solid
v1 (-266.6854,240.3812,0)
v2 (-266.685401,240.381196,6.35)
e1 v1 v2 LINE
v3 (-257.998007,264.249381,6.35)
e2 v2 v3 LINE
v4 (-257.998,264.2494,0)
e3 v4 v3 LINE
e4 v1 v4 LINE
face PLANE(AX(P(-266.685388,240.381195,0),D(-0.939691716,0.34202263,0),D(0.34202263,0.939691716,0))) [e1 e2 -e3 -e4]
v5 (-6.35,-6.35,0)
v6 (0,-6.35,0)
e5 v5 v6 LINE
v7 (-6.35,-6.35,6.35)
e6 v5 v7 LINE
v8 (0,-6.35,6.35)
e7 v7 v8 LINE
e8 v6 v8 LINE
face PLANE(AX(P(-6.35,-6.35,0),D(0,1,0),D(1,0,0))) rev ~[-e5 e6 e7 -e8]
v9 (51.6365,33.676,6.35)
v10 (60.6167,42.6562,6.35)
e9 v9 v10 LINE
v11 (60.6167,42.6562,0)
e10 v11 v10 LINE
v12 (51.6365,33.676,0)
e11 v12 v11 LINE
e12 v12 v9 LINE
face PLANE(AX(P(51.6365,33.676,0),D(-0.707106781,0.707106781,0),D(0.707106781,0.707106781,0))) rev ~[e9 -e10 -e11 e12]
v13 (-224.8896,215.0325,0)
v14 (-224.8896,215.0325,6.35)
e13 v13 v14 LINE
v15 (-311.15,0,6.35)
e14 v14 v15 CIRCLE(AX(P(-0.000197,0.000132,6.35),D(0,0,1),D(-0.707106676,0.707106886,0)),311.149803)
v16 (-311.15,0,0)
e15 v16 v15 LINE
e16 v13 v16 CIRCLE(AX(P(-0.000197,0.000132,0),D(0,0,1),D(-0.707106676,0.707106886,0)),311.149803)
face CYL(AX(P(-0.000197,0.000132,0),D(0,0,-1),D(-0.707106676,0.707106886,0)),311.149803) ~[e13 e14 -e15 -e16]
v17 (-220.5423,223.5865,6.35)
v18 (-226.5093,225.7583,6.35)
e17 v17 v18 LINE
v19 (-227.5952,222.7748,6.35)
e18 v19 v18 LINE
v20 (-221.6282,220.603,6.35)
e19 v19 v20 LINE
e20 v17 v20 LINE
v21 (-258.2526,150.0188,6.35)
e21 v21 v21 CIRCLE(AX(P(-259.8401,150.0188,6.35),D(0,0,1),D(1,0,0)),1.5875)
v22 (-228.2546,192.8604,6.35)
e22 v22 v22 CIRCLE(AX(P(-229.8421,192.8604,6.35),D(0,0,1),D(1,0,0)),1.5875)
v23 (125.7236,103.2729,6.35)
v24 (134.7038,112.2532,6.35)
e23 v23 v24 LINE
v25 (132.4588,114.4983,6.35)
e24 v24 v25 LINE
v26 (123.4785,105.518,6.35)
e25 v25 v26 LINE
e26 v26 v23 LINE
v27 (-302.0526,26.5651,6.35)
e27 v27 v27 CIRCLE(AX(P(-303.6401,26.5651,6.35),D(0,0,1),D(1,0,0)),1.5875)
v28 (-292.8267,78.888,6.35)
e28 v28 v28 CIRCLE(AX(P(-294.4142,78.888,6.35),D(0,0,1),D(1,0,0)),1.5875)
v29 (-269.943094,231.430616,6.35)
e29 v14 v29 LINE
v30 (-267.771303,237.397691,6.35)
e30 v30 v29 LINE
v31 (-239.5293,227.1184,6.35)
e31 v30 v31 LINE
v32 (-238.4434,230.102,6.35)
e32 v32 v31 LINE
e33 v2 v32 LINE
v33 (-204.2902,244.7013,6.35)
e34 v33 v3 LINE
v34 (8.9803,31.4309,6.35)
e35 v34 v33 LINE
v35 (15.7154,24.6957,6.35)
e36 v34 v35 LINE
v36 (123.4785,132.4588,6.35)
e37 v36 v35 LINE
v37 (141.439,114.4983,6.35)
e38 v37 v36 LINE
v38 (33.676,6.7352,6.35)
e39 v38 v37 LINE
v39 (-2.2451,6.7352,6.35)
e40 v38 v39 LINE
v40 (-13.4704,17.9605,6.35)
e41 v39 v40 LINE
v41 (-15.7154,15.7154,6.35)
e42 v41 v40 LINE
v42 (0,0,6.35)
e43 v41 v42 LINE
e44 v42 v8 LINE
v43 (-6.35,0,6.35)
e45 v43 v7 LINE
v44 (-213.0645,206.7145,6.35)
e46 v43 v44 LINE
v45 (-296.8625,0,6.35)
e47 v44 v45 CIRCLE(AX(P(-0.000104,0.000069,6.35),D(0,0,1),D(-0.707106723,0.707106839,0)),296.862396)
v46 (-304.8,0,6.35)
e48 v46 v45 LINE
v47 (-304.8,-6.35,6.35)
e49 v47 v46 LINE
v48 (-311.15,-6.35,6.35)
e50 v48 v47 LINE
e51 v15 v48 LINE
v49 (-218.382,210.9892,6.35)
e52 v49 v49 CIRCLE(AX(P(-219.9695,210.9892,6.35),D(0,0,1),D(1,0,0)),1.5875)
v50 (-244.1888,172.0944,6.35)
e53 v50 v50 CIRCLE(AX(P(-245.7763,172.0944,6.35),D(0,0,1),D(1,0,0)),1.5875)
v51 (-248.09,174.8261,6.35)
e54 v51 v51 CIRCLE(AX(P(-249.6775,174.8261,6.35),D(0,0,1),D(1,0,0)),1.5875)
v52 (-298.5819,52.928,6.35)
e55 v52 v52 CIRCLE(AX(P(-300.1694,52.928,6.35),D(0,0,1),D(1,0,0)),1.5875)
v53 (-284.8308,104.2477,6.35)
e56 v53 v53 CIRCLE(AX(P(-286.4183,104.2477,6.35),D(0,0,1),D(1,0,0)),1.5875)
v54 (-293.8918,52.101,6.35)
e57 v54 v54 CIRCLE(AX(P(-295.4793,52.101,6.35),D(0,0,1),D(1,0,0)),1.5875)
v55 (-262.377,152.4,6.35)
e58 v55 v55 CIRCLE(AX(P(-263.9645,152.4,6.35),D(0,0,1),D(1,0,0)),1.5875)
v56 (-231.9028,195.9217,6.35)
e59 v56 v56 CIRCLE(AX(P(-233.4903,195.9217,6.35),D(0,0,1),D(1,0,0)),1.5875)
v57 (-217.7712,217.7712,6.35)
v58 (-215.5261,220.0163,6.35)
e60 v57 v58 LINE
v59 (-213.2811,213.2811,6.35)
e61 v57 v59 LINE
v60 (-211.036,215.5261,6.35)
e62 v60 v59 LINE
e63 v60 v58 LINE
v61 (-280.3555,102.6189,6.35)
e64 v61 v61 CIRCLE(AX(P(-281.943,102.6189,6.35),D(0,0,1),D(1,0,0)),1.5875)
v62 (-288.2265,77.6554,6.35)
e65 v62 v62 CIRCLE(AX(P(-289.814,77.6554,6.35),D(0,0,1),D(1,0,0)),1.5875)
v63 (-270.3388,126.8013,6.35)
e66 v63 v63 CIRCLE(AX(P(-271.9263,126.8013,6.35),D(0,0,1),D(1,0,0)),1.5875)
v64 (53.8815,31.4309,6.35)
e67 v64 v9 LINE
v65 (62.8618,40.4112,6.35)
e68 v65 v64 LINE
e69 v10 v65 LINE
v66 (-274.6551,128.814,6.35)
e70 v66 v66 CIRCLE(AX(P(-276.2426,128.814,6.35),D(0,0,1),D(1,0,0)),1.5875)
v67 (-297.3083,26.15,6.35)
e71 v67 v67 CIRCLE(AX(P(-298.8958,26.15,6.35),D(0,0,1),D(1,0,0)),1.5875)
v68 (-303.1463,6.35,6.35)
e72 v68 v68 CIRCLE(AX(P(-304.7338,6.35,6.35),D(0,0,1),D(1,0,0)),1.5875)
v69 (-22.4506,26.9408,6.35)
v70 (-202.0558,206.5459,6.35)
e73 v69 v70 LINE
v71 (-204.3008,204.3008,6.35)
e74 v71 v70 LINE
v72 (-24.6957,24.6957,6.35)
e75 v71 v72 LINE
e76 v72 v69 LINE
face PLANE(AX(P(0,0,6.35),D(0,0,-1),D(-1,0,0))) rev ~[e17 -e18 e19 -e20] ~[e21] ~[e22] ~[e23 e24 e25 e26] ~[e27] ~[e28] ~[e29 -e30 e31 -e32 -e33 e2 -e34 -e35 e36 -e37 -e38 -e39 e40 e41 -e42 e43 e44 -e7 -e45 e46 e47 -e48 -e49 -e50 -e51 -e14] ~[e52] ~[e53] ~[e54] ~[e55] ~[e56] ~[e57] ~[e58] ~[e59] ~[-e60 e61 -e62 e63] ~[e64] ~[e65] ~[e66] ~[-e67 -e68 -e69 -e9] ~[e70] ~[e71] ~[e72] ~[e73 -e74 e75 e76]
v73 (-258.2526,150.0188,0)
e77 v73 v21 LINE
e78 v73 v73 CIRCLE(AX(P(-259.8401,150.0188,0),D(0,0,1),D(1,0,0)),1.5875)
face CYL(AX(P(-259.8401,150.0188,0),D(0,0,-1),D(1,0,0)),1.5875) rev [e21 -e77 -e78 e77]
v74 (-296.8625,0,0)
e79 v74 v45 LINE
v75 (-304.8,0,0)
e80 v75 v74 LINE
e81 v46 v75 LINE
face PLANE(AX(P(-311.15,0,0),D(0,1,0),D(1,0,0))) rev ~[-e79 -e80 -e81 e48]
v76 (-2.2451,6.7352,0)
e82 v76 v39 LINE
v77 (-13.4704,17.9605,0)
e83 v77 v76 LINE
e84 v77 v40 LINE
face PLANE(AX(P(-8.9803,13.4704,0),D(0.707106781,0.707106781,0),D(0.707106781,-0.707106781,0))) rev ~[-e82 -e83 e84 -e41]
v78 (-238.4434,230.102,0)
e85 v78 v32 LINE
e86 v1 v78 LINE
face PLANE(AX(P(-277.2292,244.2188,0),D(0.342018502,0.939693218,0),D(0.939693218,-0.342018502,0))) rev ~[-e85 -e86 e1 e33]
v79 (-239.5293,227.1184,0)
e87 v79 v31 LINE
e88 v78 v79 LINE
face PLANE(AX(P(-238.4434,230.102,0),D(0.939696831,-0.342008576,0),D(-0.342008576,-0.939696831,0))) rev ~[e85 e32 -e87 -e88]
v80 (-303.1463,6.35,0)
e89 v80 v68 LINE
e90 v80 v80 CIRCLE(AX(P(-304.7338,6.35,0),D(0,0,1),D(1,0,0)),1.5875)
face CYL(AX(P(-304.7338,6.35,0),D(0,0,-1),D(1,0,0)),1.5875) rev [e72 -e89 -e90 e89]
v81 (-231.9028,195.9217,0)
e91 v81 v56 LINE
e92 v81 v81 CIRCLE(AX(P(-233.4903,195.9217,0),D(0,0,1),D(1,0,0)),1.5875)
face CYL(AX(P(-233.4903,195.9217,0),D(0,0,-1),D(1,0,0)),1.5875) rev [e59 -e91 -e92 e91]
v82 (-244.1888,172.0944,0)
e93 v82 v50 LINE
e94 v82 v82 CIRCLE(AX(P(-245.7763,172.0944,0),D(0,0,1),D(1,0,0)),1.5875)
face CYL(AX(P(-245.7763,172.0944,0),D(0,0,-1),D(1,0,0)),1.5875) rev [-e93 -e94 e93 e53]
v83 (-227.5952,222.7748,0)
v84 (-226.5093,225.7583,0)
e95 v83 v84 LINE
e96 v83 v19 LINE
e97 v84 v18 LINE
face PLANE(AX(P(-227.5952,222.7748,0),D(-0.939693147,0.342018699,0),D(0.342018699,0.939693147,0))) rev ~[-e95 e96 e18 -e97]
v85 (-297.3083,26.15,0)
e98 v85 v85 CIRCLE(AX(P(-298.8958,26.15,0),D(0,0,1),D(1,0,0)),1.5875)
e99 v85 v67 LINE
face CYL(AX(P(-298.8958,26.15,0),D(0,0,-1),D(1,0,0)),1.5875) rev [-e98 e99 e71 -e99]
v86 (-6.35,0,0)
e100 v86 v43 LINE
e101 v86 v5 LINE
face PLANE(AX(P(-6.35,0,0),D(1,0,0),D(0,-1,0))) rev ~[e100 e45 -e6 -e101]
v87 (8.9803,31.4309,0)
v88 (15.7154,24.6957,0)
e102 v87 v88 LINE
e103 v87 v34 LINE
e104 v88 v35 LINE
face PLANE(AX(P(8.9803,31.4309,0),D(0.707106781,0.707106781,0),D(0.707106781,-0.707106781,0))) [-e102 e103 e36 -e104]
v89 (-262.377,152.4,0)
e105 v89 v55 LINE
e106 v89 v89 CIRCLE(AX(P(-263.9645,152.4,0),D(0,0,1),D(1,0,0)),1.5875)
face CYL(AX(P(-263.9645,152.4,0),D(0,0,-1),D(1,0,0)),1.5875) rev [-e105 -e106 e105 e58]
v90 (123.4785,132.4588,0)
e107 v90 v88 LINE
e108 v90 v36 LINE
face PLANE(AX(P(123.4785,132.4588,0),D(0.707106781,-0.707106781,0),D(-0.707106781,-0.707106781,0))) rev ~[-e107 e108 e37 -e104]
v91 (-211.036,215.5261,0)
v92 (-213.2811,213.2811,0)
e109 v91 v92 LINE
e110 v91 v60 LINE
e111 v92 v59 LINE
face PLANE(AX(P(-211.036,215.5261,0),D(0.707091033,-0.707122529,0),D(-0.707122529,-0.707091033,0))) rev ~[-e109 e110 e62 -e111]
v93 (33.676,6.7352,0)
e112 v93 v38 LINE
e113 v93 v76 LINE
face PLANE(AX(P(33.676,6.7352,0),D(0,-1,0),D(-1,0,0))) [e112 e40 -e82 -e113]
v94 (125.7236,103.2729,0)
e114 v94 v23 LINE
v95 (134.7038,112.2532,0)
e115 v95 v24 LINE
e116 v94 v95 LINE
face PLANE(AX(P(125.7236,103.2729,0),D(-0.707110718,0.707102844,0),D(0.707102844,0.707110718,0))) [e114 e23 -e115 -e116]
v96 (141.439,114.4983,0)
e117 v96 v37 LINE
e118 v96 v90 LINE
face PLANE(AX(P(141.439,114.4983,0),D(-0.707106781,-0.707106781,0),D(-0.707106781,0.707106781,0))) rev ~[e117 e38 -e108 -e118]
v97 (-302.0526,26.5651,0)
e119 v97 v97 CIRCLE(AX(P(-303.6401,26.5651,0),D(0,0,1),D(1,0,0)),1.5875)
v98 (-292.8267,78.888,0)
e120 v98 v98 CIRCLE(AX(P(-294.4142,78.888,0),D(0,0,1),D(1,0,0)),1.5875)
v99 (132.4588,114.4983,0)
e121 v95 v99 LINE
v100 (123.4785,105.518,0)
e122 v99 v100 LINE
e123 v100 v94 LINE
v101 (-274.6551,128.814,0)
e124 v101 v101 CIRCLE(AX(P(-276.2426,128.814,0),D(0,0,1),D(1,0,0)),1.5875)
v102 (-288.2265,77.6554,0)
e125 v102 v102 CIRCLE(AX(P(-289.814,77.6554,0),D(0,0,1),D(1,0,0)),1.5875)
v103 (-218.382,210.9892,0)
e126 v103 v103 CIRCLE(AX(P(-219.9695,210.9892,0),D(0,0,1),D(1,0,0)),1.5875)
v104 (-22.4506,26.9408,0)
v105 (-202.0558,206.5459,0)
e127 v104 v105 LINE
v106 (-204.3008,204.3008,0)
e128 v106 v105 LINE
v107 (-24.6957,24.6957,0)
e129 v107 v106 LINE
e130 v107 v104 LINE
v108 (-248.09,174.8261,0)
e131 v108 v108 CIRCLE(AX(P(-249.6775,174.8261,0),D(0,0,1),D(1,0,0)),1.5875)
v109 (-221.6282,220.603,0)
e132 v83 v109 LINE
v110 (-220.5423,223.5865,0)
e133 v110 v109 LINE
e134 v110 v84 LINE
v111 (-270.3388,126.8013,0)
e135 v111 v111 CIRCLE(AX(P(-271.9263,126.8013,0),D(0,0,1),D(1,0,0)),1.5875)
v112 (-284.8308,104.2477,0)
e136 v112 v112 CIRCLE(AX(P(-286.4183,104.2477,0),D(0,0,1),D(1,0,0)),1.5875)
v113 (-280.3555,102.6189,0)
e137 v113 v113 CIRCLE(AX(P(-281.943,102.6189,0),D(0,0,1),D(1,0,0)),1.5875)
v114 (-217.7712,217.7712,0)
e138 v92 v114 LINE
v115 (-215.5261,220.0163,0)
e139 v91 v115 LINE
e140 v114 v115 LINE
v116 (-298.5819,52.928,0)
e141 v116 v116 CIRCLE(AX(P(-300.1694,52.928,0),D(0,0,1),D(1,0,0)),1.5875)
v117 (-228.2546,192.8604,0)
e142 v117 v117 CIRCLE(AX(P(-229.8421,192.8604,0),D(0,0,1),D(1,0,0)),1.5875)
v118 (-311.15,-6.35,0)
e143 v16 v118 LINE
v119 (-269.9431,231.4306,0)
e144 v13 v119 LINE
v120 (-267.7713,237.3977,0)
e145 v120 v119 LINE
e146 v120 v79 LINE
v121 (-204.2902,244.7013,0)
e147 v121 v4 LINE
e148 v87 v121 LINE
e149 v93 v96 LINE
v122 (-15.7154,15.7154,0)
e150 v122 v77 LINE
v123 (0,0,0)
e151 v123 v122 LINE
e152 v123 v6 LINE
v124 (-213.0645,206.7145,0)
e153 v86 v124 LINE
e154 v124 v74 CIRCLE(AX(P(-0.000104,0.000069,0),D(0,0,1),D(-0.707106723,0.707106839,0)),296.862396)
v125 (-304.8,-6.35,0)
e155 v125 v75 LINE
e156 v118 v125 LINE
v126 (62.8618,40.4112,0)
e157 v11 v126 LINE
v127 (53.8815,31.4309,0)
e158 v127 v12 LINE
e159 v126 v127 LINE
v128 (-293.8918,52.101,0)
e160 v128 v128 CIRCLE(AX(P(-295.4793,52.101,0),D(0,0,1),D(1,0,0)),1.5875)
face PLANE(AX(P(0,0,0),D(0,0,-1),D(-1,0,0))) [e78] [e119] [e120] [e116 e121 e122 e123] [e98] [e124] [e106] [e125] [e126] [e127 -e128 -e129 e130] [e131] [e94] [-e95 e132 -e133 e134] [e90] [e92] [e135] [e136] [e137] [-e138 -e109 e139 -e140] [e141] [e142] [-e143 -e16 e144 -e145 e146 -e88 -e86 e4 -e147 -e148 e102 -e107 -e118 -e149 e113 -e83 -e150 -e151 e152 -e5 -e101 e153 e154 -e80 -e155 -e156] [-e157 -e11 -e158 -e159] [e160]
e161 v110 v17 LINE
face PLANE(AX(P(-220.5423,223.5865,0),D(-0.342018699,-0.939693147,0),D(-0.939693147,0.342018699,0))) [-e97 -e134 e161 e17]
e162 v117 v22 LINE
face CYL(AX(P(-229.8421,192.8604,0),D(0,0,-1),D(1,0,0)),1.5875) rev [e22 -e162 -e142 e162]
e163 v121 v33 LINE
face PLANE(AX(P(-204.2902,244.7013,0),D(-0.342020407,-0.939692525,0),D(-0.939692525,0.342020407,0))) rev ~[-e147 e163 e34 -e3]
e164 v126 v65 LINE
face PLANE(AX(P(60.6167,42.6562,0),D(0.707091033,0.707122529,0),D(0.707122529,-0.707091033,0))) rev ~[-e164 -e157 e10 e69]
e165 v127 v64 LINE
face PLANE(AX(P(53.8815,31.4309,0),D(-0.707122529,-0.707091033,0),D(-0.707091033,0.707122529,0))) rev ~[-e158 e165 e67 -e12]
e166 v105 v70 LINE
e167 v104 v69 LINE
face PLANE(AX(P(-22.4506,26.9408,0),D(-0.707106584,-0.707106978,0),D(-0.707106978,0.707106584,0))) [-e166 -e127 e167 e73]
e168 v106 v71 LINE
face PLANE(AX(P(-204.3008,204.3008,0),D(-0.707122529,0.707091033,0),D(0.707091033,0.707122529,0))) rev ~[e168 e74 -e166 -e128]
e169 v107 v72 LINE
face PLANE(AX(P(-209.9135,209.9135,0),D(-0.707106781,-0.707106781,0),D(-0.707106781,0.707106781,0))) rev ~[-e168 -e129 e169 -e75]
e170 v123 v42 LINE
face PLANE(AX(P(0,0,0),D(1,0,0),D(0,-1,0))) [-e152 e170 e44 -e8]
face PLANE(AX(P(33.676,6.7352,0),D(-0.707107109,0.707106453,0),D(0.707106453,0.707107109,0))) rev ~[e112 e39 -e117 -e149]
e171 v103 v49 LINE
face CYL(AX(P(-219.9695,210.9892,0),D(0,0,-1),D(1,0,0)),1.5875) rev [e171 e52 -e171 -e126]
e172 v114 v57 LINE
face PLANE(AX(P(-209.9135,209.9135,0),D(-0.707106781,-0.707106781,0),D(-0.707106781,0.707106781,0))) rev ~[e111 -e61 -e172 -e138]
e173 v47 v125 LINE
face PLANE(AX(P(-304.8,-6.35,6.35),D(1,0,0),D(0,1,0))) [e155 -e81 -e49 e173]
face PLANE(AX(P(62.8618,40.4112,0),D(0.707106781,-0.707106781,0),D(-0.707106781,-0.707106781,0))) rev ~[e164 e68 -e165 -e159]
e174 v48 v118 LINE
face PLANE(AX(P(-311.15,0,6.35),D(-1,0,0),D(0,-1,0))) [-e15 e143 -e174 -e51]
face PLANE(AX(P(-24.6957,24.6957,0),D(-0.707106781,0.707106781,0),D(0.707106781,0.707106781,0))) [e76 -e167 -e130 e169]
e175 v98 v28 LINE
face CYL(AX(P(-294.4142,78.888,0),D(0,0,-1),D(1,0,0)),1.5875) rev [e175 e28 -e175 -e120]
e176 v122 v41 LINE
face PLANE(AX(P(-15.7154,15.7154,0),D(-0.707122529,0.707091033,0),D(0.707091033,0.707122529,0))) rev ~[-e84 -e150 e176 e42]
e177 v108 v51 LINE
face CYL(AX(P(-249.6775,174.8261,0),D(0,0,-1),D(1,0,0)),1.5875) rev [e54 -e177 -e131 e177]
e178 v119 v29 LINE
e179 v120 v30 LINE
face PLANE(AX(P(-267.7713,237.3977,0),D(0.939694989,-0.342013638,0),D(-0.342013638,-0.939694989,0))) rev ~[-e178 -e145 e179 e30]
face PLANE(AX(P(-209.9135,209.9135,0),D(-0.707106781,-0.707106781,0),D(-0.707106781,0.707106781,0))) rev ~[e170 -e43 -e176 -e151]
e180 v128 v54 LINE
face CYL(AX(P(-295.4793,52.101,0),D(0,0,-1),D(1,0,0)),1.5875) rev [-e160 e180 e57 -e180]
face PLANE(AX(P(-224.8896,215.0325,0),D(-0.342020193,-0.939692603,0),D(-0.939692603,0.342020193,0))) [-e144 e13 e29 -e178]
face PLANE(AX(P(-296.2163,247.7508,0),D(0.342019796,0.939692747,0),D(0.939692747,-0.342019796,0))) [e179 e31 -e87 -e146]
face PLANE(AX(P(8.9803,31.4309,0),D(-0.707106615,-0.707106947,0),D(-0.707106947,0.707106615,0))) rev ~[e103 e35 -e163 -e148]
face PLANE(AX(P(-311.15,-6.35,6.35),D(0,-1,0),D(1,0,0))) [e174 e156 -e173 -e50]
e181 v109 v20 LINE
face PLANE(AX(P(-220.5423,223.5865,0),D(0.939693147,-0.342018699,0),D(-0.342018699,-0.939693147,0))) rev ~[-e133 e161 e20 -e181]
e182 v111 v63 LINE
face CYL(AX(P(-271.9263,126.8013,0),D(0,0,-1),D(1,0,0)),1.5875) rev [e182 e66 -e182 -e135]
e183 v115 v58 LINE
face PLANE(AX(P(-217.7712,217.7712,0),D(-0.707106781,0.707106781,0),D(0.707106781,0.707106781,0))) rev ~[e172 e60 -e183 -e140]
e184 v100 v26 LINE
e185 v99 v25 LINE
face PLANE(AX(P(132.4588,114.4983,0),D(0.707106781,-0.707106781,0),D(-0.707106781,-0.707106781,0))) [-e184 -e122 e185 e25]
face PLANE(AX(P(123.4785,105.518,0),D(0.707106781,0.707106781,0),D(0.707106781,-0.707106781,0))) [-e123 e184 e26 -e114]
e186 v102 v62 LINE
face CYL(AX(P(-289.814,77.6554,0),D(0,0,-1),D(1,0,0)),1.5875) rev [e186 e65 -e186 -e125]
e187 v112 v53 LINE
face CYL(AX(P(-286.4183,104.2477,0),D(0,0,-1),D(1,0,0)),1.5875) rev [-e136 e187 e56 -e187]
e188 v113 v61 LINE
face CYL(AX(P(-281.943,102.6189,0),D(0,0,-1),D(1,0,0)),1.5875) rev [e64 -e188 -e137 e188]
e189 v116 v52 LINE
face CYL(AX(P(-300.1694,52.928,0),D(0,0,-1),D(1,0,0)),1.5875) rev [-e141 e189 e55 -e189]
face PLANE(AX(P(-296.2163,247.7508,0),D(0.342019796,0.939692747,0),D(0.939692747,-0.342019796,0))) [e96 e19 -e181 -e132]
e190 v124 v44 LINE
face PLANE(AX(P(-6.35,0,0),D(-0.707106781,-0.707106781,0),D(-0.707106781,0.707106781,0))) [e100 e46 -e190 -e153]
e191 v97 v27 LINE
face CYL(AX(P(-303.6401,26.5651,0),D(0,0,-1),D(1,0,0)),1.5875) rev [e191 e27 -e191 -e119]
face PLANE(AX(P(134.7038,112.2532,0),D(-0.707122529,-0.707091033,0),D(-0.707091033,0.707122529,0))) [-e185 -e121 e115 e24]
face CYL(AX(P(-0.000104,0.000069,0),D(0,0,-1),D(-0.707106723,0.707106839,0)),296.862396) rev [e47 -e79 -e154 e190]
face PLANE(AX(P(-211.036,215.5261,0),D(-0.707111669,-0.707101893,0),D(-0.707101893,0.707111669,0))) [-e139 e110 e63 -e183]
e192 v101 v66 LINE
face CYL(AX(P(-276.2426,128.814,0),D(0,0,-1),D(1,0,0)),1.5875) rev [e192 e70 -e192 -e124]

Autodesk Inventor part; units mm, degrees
ref_plane "YZ Plane" through (0, 0, 0) normal (1, 0, 0) x (0, 1, 0)
ref_plane "XZ Plane" through (0, 0, 0) normal (0, 1, 0) x (-1, 0, 0)
ref_plane "XY Plane" through (0, 0, 0) normal (0, 0, 1) x (1, 0, 0)
sketch "Sketch1" plane through (0, 0, 0) normal (0, 0, 1) x (1, 0, 0)
  circle A0 centre (-295.4793, 52.101) radius 1.5875
  circle A1 centre (-281.943, 102.6189) radius 1.5875
  circle A2 centre (-259.8401, 150.0188) radius 1.5875
  circle A3 centre (-229.8421, 192.8604) radius 1.5875
  circle A4 centre (-219.9695, 210.9892) radius 1.5875
  circle A5 centre (-300.1694, 52.928) radius 1.5875
  circle A6 centre (-286.4183, 104.2477) radius 1.5875
  circle A7 centre (-263.9645, 152.4) radius 1.5875
  circle A8 centre (-233.4903, 195.9217) radius 1.5875
  circle A9 centre (-249.6775, 174.8261) radius 1.5875
  circle A10 centre (-276.2426, 128.814) radius 1.5875
  circle A11 centre (-294.4142, 78.888) radius 1.5875
  circle A12 centre (-303.6401, 26.5651) radius 1.5875
  circle A13 centre (-304.7338, 6.35) radius 1.5875
  circle A14 centre (-245.7763, 172.0944) radius 1.5875
  circle A15 centre (-271.9263, 126.8013) radius 1.5875
  circle A16 centre (-289.814, 77.6554) radius 1.5875
  circle A17 centre (-298.8958, 26.15) radius 1.5875
  arc A18 (-220.0163, 220.0163) -> (-311.15, 0) centre (0, 0) ccw
  line L0 (-311.15, 0) -> (0, 0)
  line L1 (0, 0) -> (-220.0163, 220.0163)
  arc A19 (-209.9135, 209.9135) -> (-296.8625, 0) centre (0, 0) ccw
  arc A20 (-220.0163, 220.0163) -> (-311.15, 0) centre (0, 0) ccw
  dimension "d0" = 593.725
extrude "Extrusion1" add sketch "Sketch1" along normal blind 6.35 contours L1 A19 L0 A18
sketch "Sketch2" plane through (0, 0, 6.35) normal (0, 0, 1) x (1, 0, 0)
  arc A0 (-220.0163, 220.0163) -> (-311.15, 0) centre (0, 0) ccw projected
  line L0 (-311.15, 0) -> (-296.8625, 0) projected
  line L1 (-311.15, 0) -> (-311.15, -6.35)
  line L2 (-311.15, -6.35) -> (-304.8, -6.35)
  line L3 (-304.8, -6.35) -> (-304.8, 0)
  dimension "d3" = 6.35
  dimension "d4" = 6.35
extrude "Extrusion2" add sketch "Sketch2" against normal blind 6.35
sketch "Sketch3" plane through (0, 0, 0) normal (0, 0, -1) x (-1, 0, 0)
  arc A0 (311.15, 0) -> (220.0163, 220.0163) centre (0, 0) ccw projected
  line L0 (311.15, -6.35) -> (311.15, 0) projected
  line L1 (220.0163, 220.0163) -> (177.0122, 220.0163)
  circle A1 centre (281.943, 102.6189) radius 1.5875 projected
  circle A2 centre (263.9645, 152.4) radius 1.5875 projected
  circle A3 centre (276.2426, 128.814) radius 1.5875 projected
  circle A4 centre (245.7763, 172.0944) radius 1.5875 projected
  circle A5 centre (249.6775, 174.8261) radius 1.5875 projected
  circle A6 centre (286.4183, 104.2477) radius 1.5875 projected
  circle A7 centre (295.4793, 52.101) radius 1.5875 projected
  circle A8 centre (259.8401, 150.0188) radius 1.5875 projected
  circle A9 centre (233.4903, 195.9217) radius 1.5875 projected
  circle A10 centre (294.4142, 78.888) radius 1.5875 projected
  circle A11 centre (289.814, 77.6554) radius 1.5875 projected
  circle A12 centre (271.9263, 126.8013) radius 1.5875 projected
  circle A13 centre (300.1694, 52.928) radius 1.5875 projected
  circle A14 centre (219.9695, 210.9892) radius 1.5875 projected
  circle A15 centre (229.8421, 192.8604) radius 1.5875 projected
  arc A16 (311.15, 0) -> (224.8896, 215.0325) centre (0, 0) ccw projected
  line L2 (224.8896, 215.0325) -> (296.2163, 240.9933) projected
  line L3 (296.2163, 240.9933) -> (296.2163, 247.7508) projected
  line L4 (296.2163, 247.7508) -> (220.0163, 220.0163) projected
  line L5 (220.0163, 220.0163) -> (209.9135, 209.9135) projected
  arc A17 (293.5158, 44.45) -> (209.9135, 209.9135) centre (0, 0) ccw projected
  line L6 (293.5158, 44.45) -> (301.625, 44.45) projected
  line L7 (301.625, 44.45) -> (301.625, 0) projected
  line L8 (301.625, 0) -> (304.8, 0) projected
  line L9 (304.8, 0) -> (304.8, -6.35) projected
  line L10 (304.8, -6.35) -> (311.15, -6.35) projected
  line L11 (311.15, -6.35) -> (311.15, 0) projected
extrude "Extrusion3" add sketch "Sketch3" against normal blind 6.35 contours A0 L4 L3 L2
sketch "Sketch4" plane through (0, 0, 0) normal (0, 0, -1) x (-1, 0, 0)
  line L0 (209.9135, 209.9135) -> (220.0163, 220.0163) projected
  arc A0 (296.8625, 0) -> (209.9135, 209.9135) centre (0, 0) ccw projected
  arc A1 (311.15, 0) -> (224.8896, 215.0325) centre (0, 0) ccw projected
  line L1 (0, 0) -> (209.9135, 209.9135)
  line L2 (6.35, -6.35) -> (0, -6.35) projected
  line L3 (6.35, 0) -> (6.35, -6.35) projected
  line L4 (0, 0) -> (6.35, 0) projected
  line L5 (0, 0) -> (0, -6.35) projected
  line L6 (0, -6.35) -> (0, 0)
  line L7 (0, -6.35) -> (6.35, -6.35)
  line L8 (6.35, 0) -> (6.35, -6.35)
  line L9 (6.35, 0) -> (213.0645, 206.7145)
extrude "Extrusion4" add sketch "Sketch4" against normal blind 6.35
sketch "Sketch7" plane through (0, 0, 0) normal (0, 0, -1) x (-1, 0, 0)
  line L0 (220.0163, 220.0163) -> (0, 0) projected
  line L1 (296.2163, 247.7508) -> (220.0163, 220.0163) projected
  line L2 (0, 0) -> (220.0163, 220.0163) projected
  line L3 (202.0558, 206.5459) -> (211.036, 215.5261) projected
  line L4 (204.3008, 204.3008) -> (202.0558, 206.5459) projected
  line L5 (213.2811, 213.2811) -> (204.3008, 204.3008) projected
  line L6 (211.036, 215.5261) -> (213.2811, 213.2811) projected
  line L7 (-134.4395, 156.8901) -> (11.2253, 11.2253) projected
  line L8 (8.9803, 13.4704) -> (13.4704, 17.9605) projected
  line L9 (15.7154, 15.7154) -> (13.4704, 17.9605)
  line L10 (13.4704, 17.9605) -> (8.9803, 13.4704)
  line L11 (8.9803, 13.4704) -> (-8.9803, 31.4309)
  line L12 (15.7154, 15.7154) -> (24.6957, 24.6957)
  line L13 (24.6957, 24.6957) -> (22.4506, 26.9408)
  line L14 (22.4506, 26.9408) -> (202.0558, 206.5459)
  line L15 (202.0558, 206.5459) -> (204.3008, 204.3008)
  line L16 (204.3008, 204.3008) -> (213.2811, 213.2811)
  line L17 (213.2811, 213.2811) -> (211.036, 215.5261)
  line L18 (220.0163, 220.0163) -> (216.1966, 226.012)
  line L19 (211.036, 215.5261) -> (218.2689, 222.7591)
  line L20 (218.2689, 222.7591) -> (204.2902, 244.7013)
  line L21 (-8.9803, 31.4309) -> (204.2902, 244.7013)
  line L22 (204.3008, 204.3008) -> (202.0558, 206.5459) projected
  line L23 (211.036, 215.5261) -> (213.2811, 213.2811) projected
  line L24 (202.0558, 206.5459) -> (211.036, 215.5261) projected
  line L25 (213.2811, 213.2811) -> (204.3008, 204.3008) projected
  point P0 (8.9803, 8.9803)
  dimension "d19" = 25.4
  dimension "d20" = 102.5
extrude "Extrusion7" add sketch "Sketch7" against normal blind 6.35 contours L0 L4 L3 L6 | L19 L3 L14 L13 L0 L9 L8 L7 L21 L20 L18
sketch "Sketch8" plane through (0, 0, 0) normal (0, 0, -1) x (-1, 0, 0)
  line L0 (211.036, 215.5261) -> (218.2689, 222.7591) projected
  line L1 (218.2689, 222.7591) -> (204.2902, 244.7013) projected
  line L2 (296.2163, 247.7508) -> (220.0163, 220.0163) projected
  line L3 (238.4434, 230.102) -> (239.5293, 227.1184) projected
  line L4 (226.5093, 225.7583) -> (238.4434, 230.102) projected
  line L5 (227.5952, 222.7748) -> (226.5093, 225.7583) projected
  line L6 (239.5293, 227.1184) -> (227.5952, 222.7748) projected
  line L7 (220.5423, 223.5865) -> (221.6282, 220.603) projected
  line L8 (290.2492, 245.579) -> (278.3151, 241.2353) projected
  line L9 (289.1633, 248.5625) -> (290.2492, 245.579) projected
  line L10 (277.2292, 244.2188) -> (289.1633, 248.5625) projected
  line L11 (278.3151, 241.2353) -> (277.2292, 244.2188) projected
  line L12 (217.7712, 217.7712) -> (215.5261, 220.0163) projected
  line L13 (218.2689, 222.7591) -> (215.5261, 220.0163)
  line L14 (215.5261, 220.0163) -> (217.7712, 217.7712)
  line L15 (217.7712, 217.7712) -> (220.0163, 220.0163)
  line L16 (221.6282, 220.603) -> (220.0465, 220.0273)
  line L17 (221.6282, 220.603) -> (220.5423, 223.5865)
  line L18 (204.2902, 244.7013) -> (286.443, 274.6025)
  line L19 (295.1304, 250.7343) -> (296.2163, 247.7508) projected
  line L20 (295.1304, 250.7343) -> (286.443, 274.6025)
  line L21 (218.2689, 222.7591) -> (204.2902, 244.7013)
  line L22 (295.1304, 250.7343) -> (289.1633, 248.5625)
  line L23 (289.1633, 248.5625) -> (290.2492, 245.579)
  line L24 (290.2492, 245.579) -> (278.3151, 241.2353)
  line L25 (278.3151, 241.2353) -> (277.2292, 244.2188)
  line L26 (277.2292, 244.2188) -> (238.4434, 230.102)
  line L27 (238.4434, 230.102) -> (239.5293, 227.1184)
  line L28 (239.5293, 227.1184) -> (227.5952, 222.7748)
  line L29 (226.5093, 225.7583) -> (227.5952, 222.7748)
  line L30 (220.5423, 223.5865) -> (226.5093, 225.7583)
extrude "Extrusion8" add sketch "Sketch8" against normal blind 6.35 contours L0 L1 L18 L20 L22 L10 L26 L4 L30 L7 L2 L15 L12 | L9 L2 L11 L10 | L5 L4 L3 L2
sketch "Sketch11" plane through (0, 0, 0) normal (0, 0, -1) x (-1, 0, 0)
  line L0 (-8.9803, 31.4309) -> (8.9803, 13.4704) projected
  line L1 (296.2163, 240.9933) -> (296.2163, 247.7508) projected
  line L2 (204.3008, 204.3008) -> (24.6957, 24.6957) projected
  line L3 (-8.9803, 31.4309) -> (-33.676, 6.7352)
  line L4 (8.9803, 13.4704) -> (2.2451, 6.7352)
  line L5 (-33.676, 6.7352) -> (2.2451, 6.7352)
  dimension "d35" = 34.925
extrude "Extrusion11" add sketch "Sketch11" against normal blind 6.35
sketch "Sketch12" plane through (0, 0, 0) normal (0, 0, -1) x (-1, 0, 0)
  line L0 (204.2902, 244.7013) -> (-33.676, 6.7352) projected
  line L1 (204.3008, 204.3008) -> (24.6957, 24.6957) projected
  line L2 (-33.676, 6.7352) -> (-141.439, 114.4983)
  line L3 (-141.439, 114.4983) -> (-123.4785, 132.4588)
  line L4 (-123.4785, 132.4588) -> (-15.7154, 24.6957)
  line L5 (-134.7038, 112.2532) -> (-132.4588, 114.4983)
  line L6 (-132.4588, 114.4983) -> (-123.4785, 105.518)
  line L7 (-123.4785, 105.518) -> (-125.7236, 103.2729)
  line L8 (-125.7236, 103.2729) -> (-134.7038, 112.2532)
  line L9 (-60.6167, 42.6562) -> (-62.8618, 40.4112)
  line L10 (-62.8618, 40.4112) -> (-53.8815, 31.4309)
  line L11 (-53.8815, 31.4309) -> (-51.6365, 33.676)
  line L12 (-51.6365, 33.676) -> (-60.6167, 42.6562)
  dimension "d38" = 152.4
  dimension "d39" = 25.4
  dimension "d40" = 3.175
  dimension "d41" = 12.7
  dimension "d42" = 6.35
  dimension "d43" = 3.175
  dimension "d44" = 3.175
  dimension "d45" = 12.7
  dimension "d46" = 3.175
  dimension "d47" = 3.175
  dimension "d48" = 88.9
extrude "Extrusion12" add sketch "Sketch12" against normal blind 6.35
sketch "Sketch13" plane through (0, 0, 0) normal (0, 0, -1) x (-1, 0, 0)
  line L0 (224.8896, 215.0325) -> (296.2163, 240.9933) projected
  line L1 (296.2163, 240.9933) -> (296.2163, 247.7508) projected
  line L2 (296.2163, 247.7508) -> (290.2492, 245.579) projected
  line L3 (290.2492, 245.579) -> (289.1633, 248.5625) projected
  line L4 (289.1633, 248.5625) -> (295.1304, 250.7343) projected
  line L5 (295.1304, 250.7343) -> (286.443, 274.6025) projected
  line L6 (286.443, 274.6025) -> (204.2902, 244.7013) projected
  line L7 (278.3151, 241.2353) -> (239.5293, 227.1184) projected
  line L8 (238.4434, 230.102) -> (277.2292, 244.2188) projected
  line L9 (277.2292, 244.2188) -> (278.3151, 241.2353) projected
  line L10 (267.7713, 237.3977) -> (266.6854, 240.3812) projected
  line L11 (267.7713, 237.3977) -> (257.998, 264.2494)
  line L12 (267.7713, 237.3977) -> (269.9431, 231.4306)
extrude "Extrusion13" cut sketch "Sketch13" against normal blind 25.4 contours L12 L7 L9 L8 L11 L6 L5 L4 L3 L2 L1 L0
properties part number "Inner Rail" material "Polycarbonate, Clear"
